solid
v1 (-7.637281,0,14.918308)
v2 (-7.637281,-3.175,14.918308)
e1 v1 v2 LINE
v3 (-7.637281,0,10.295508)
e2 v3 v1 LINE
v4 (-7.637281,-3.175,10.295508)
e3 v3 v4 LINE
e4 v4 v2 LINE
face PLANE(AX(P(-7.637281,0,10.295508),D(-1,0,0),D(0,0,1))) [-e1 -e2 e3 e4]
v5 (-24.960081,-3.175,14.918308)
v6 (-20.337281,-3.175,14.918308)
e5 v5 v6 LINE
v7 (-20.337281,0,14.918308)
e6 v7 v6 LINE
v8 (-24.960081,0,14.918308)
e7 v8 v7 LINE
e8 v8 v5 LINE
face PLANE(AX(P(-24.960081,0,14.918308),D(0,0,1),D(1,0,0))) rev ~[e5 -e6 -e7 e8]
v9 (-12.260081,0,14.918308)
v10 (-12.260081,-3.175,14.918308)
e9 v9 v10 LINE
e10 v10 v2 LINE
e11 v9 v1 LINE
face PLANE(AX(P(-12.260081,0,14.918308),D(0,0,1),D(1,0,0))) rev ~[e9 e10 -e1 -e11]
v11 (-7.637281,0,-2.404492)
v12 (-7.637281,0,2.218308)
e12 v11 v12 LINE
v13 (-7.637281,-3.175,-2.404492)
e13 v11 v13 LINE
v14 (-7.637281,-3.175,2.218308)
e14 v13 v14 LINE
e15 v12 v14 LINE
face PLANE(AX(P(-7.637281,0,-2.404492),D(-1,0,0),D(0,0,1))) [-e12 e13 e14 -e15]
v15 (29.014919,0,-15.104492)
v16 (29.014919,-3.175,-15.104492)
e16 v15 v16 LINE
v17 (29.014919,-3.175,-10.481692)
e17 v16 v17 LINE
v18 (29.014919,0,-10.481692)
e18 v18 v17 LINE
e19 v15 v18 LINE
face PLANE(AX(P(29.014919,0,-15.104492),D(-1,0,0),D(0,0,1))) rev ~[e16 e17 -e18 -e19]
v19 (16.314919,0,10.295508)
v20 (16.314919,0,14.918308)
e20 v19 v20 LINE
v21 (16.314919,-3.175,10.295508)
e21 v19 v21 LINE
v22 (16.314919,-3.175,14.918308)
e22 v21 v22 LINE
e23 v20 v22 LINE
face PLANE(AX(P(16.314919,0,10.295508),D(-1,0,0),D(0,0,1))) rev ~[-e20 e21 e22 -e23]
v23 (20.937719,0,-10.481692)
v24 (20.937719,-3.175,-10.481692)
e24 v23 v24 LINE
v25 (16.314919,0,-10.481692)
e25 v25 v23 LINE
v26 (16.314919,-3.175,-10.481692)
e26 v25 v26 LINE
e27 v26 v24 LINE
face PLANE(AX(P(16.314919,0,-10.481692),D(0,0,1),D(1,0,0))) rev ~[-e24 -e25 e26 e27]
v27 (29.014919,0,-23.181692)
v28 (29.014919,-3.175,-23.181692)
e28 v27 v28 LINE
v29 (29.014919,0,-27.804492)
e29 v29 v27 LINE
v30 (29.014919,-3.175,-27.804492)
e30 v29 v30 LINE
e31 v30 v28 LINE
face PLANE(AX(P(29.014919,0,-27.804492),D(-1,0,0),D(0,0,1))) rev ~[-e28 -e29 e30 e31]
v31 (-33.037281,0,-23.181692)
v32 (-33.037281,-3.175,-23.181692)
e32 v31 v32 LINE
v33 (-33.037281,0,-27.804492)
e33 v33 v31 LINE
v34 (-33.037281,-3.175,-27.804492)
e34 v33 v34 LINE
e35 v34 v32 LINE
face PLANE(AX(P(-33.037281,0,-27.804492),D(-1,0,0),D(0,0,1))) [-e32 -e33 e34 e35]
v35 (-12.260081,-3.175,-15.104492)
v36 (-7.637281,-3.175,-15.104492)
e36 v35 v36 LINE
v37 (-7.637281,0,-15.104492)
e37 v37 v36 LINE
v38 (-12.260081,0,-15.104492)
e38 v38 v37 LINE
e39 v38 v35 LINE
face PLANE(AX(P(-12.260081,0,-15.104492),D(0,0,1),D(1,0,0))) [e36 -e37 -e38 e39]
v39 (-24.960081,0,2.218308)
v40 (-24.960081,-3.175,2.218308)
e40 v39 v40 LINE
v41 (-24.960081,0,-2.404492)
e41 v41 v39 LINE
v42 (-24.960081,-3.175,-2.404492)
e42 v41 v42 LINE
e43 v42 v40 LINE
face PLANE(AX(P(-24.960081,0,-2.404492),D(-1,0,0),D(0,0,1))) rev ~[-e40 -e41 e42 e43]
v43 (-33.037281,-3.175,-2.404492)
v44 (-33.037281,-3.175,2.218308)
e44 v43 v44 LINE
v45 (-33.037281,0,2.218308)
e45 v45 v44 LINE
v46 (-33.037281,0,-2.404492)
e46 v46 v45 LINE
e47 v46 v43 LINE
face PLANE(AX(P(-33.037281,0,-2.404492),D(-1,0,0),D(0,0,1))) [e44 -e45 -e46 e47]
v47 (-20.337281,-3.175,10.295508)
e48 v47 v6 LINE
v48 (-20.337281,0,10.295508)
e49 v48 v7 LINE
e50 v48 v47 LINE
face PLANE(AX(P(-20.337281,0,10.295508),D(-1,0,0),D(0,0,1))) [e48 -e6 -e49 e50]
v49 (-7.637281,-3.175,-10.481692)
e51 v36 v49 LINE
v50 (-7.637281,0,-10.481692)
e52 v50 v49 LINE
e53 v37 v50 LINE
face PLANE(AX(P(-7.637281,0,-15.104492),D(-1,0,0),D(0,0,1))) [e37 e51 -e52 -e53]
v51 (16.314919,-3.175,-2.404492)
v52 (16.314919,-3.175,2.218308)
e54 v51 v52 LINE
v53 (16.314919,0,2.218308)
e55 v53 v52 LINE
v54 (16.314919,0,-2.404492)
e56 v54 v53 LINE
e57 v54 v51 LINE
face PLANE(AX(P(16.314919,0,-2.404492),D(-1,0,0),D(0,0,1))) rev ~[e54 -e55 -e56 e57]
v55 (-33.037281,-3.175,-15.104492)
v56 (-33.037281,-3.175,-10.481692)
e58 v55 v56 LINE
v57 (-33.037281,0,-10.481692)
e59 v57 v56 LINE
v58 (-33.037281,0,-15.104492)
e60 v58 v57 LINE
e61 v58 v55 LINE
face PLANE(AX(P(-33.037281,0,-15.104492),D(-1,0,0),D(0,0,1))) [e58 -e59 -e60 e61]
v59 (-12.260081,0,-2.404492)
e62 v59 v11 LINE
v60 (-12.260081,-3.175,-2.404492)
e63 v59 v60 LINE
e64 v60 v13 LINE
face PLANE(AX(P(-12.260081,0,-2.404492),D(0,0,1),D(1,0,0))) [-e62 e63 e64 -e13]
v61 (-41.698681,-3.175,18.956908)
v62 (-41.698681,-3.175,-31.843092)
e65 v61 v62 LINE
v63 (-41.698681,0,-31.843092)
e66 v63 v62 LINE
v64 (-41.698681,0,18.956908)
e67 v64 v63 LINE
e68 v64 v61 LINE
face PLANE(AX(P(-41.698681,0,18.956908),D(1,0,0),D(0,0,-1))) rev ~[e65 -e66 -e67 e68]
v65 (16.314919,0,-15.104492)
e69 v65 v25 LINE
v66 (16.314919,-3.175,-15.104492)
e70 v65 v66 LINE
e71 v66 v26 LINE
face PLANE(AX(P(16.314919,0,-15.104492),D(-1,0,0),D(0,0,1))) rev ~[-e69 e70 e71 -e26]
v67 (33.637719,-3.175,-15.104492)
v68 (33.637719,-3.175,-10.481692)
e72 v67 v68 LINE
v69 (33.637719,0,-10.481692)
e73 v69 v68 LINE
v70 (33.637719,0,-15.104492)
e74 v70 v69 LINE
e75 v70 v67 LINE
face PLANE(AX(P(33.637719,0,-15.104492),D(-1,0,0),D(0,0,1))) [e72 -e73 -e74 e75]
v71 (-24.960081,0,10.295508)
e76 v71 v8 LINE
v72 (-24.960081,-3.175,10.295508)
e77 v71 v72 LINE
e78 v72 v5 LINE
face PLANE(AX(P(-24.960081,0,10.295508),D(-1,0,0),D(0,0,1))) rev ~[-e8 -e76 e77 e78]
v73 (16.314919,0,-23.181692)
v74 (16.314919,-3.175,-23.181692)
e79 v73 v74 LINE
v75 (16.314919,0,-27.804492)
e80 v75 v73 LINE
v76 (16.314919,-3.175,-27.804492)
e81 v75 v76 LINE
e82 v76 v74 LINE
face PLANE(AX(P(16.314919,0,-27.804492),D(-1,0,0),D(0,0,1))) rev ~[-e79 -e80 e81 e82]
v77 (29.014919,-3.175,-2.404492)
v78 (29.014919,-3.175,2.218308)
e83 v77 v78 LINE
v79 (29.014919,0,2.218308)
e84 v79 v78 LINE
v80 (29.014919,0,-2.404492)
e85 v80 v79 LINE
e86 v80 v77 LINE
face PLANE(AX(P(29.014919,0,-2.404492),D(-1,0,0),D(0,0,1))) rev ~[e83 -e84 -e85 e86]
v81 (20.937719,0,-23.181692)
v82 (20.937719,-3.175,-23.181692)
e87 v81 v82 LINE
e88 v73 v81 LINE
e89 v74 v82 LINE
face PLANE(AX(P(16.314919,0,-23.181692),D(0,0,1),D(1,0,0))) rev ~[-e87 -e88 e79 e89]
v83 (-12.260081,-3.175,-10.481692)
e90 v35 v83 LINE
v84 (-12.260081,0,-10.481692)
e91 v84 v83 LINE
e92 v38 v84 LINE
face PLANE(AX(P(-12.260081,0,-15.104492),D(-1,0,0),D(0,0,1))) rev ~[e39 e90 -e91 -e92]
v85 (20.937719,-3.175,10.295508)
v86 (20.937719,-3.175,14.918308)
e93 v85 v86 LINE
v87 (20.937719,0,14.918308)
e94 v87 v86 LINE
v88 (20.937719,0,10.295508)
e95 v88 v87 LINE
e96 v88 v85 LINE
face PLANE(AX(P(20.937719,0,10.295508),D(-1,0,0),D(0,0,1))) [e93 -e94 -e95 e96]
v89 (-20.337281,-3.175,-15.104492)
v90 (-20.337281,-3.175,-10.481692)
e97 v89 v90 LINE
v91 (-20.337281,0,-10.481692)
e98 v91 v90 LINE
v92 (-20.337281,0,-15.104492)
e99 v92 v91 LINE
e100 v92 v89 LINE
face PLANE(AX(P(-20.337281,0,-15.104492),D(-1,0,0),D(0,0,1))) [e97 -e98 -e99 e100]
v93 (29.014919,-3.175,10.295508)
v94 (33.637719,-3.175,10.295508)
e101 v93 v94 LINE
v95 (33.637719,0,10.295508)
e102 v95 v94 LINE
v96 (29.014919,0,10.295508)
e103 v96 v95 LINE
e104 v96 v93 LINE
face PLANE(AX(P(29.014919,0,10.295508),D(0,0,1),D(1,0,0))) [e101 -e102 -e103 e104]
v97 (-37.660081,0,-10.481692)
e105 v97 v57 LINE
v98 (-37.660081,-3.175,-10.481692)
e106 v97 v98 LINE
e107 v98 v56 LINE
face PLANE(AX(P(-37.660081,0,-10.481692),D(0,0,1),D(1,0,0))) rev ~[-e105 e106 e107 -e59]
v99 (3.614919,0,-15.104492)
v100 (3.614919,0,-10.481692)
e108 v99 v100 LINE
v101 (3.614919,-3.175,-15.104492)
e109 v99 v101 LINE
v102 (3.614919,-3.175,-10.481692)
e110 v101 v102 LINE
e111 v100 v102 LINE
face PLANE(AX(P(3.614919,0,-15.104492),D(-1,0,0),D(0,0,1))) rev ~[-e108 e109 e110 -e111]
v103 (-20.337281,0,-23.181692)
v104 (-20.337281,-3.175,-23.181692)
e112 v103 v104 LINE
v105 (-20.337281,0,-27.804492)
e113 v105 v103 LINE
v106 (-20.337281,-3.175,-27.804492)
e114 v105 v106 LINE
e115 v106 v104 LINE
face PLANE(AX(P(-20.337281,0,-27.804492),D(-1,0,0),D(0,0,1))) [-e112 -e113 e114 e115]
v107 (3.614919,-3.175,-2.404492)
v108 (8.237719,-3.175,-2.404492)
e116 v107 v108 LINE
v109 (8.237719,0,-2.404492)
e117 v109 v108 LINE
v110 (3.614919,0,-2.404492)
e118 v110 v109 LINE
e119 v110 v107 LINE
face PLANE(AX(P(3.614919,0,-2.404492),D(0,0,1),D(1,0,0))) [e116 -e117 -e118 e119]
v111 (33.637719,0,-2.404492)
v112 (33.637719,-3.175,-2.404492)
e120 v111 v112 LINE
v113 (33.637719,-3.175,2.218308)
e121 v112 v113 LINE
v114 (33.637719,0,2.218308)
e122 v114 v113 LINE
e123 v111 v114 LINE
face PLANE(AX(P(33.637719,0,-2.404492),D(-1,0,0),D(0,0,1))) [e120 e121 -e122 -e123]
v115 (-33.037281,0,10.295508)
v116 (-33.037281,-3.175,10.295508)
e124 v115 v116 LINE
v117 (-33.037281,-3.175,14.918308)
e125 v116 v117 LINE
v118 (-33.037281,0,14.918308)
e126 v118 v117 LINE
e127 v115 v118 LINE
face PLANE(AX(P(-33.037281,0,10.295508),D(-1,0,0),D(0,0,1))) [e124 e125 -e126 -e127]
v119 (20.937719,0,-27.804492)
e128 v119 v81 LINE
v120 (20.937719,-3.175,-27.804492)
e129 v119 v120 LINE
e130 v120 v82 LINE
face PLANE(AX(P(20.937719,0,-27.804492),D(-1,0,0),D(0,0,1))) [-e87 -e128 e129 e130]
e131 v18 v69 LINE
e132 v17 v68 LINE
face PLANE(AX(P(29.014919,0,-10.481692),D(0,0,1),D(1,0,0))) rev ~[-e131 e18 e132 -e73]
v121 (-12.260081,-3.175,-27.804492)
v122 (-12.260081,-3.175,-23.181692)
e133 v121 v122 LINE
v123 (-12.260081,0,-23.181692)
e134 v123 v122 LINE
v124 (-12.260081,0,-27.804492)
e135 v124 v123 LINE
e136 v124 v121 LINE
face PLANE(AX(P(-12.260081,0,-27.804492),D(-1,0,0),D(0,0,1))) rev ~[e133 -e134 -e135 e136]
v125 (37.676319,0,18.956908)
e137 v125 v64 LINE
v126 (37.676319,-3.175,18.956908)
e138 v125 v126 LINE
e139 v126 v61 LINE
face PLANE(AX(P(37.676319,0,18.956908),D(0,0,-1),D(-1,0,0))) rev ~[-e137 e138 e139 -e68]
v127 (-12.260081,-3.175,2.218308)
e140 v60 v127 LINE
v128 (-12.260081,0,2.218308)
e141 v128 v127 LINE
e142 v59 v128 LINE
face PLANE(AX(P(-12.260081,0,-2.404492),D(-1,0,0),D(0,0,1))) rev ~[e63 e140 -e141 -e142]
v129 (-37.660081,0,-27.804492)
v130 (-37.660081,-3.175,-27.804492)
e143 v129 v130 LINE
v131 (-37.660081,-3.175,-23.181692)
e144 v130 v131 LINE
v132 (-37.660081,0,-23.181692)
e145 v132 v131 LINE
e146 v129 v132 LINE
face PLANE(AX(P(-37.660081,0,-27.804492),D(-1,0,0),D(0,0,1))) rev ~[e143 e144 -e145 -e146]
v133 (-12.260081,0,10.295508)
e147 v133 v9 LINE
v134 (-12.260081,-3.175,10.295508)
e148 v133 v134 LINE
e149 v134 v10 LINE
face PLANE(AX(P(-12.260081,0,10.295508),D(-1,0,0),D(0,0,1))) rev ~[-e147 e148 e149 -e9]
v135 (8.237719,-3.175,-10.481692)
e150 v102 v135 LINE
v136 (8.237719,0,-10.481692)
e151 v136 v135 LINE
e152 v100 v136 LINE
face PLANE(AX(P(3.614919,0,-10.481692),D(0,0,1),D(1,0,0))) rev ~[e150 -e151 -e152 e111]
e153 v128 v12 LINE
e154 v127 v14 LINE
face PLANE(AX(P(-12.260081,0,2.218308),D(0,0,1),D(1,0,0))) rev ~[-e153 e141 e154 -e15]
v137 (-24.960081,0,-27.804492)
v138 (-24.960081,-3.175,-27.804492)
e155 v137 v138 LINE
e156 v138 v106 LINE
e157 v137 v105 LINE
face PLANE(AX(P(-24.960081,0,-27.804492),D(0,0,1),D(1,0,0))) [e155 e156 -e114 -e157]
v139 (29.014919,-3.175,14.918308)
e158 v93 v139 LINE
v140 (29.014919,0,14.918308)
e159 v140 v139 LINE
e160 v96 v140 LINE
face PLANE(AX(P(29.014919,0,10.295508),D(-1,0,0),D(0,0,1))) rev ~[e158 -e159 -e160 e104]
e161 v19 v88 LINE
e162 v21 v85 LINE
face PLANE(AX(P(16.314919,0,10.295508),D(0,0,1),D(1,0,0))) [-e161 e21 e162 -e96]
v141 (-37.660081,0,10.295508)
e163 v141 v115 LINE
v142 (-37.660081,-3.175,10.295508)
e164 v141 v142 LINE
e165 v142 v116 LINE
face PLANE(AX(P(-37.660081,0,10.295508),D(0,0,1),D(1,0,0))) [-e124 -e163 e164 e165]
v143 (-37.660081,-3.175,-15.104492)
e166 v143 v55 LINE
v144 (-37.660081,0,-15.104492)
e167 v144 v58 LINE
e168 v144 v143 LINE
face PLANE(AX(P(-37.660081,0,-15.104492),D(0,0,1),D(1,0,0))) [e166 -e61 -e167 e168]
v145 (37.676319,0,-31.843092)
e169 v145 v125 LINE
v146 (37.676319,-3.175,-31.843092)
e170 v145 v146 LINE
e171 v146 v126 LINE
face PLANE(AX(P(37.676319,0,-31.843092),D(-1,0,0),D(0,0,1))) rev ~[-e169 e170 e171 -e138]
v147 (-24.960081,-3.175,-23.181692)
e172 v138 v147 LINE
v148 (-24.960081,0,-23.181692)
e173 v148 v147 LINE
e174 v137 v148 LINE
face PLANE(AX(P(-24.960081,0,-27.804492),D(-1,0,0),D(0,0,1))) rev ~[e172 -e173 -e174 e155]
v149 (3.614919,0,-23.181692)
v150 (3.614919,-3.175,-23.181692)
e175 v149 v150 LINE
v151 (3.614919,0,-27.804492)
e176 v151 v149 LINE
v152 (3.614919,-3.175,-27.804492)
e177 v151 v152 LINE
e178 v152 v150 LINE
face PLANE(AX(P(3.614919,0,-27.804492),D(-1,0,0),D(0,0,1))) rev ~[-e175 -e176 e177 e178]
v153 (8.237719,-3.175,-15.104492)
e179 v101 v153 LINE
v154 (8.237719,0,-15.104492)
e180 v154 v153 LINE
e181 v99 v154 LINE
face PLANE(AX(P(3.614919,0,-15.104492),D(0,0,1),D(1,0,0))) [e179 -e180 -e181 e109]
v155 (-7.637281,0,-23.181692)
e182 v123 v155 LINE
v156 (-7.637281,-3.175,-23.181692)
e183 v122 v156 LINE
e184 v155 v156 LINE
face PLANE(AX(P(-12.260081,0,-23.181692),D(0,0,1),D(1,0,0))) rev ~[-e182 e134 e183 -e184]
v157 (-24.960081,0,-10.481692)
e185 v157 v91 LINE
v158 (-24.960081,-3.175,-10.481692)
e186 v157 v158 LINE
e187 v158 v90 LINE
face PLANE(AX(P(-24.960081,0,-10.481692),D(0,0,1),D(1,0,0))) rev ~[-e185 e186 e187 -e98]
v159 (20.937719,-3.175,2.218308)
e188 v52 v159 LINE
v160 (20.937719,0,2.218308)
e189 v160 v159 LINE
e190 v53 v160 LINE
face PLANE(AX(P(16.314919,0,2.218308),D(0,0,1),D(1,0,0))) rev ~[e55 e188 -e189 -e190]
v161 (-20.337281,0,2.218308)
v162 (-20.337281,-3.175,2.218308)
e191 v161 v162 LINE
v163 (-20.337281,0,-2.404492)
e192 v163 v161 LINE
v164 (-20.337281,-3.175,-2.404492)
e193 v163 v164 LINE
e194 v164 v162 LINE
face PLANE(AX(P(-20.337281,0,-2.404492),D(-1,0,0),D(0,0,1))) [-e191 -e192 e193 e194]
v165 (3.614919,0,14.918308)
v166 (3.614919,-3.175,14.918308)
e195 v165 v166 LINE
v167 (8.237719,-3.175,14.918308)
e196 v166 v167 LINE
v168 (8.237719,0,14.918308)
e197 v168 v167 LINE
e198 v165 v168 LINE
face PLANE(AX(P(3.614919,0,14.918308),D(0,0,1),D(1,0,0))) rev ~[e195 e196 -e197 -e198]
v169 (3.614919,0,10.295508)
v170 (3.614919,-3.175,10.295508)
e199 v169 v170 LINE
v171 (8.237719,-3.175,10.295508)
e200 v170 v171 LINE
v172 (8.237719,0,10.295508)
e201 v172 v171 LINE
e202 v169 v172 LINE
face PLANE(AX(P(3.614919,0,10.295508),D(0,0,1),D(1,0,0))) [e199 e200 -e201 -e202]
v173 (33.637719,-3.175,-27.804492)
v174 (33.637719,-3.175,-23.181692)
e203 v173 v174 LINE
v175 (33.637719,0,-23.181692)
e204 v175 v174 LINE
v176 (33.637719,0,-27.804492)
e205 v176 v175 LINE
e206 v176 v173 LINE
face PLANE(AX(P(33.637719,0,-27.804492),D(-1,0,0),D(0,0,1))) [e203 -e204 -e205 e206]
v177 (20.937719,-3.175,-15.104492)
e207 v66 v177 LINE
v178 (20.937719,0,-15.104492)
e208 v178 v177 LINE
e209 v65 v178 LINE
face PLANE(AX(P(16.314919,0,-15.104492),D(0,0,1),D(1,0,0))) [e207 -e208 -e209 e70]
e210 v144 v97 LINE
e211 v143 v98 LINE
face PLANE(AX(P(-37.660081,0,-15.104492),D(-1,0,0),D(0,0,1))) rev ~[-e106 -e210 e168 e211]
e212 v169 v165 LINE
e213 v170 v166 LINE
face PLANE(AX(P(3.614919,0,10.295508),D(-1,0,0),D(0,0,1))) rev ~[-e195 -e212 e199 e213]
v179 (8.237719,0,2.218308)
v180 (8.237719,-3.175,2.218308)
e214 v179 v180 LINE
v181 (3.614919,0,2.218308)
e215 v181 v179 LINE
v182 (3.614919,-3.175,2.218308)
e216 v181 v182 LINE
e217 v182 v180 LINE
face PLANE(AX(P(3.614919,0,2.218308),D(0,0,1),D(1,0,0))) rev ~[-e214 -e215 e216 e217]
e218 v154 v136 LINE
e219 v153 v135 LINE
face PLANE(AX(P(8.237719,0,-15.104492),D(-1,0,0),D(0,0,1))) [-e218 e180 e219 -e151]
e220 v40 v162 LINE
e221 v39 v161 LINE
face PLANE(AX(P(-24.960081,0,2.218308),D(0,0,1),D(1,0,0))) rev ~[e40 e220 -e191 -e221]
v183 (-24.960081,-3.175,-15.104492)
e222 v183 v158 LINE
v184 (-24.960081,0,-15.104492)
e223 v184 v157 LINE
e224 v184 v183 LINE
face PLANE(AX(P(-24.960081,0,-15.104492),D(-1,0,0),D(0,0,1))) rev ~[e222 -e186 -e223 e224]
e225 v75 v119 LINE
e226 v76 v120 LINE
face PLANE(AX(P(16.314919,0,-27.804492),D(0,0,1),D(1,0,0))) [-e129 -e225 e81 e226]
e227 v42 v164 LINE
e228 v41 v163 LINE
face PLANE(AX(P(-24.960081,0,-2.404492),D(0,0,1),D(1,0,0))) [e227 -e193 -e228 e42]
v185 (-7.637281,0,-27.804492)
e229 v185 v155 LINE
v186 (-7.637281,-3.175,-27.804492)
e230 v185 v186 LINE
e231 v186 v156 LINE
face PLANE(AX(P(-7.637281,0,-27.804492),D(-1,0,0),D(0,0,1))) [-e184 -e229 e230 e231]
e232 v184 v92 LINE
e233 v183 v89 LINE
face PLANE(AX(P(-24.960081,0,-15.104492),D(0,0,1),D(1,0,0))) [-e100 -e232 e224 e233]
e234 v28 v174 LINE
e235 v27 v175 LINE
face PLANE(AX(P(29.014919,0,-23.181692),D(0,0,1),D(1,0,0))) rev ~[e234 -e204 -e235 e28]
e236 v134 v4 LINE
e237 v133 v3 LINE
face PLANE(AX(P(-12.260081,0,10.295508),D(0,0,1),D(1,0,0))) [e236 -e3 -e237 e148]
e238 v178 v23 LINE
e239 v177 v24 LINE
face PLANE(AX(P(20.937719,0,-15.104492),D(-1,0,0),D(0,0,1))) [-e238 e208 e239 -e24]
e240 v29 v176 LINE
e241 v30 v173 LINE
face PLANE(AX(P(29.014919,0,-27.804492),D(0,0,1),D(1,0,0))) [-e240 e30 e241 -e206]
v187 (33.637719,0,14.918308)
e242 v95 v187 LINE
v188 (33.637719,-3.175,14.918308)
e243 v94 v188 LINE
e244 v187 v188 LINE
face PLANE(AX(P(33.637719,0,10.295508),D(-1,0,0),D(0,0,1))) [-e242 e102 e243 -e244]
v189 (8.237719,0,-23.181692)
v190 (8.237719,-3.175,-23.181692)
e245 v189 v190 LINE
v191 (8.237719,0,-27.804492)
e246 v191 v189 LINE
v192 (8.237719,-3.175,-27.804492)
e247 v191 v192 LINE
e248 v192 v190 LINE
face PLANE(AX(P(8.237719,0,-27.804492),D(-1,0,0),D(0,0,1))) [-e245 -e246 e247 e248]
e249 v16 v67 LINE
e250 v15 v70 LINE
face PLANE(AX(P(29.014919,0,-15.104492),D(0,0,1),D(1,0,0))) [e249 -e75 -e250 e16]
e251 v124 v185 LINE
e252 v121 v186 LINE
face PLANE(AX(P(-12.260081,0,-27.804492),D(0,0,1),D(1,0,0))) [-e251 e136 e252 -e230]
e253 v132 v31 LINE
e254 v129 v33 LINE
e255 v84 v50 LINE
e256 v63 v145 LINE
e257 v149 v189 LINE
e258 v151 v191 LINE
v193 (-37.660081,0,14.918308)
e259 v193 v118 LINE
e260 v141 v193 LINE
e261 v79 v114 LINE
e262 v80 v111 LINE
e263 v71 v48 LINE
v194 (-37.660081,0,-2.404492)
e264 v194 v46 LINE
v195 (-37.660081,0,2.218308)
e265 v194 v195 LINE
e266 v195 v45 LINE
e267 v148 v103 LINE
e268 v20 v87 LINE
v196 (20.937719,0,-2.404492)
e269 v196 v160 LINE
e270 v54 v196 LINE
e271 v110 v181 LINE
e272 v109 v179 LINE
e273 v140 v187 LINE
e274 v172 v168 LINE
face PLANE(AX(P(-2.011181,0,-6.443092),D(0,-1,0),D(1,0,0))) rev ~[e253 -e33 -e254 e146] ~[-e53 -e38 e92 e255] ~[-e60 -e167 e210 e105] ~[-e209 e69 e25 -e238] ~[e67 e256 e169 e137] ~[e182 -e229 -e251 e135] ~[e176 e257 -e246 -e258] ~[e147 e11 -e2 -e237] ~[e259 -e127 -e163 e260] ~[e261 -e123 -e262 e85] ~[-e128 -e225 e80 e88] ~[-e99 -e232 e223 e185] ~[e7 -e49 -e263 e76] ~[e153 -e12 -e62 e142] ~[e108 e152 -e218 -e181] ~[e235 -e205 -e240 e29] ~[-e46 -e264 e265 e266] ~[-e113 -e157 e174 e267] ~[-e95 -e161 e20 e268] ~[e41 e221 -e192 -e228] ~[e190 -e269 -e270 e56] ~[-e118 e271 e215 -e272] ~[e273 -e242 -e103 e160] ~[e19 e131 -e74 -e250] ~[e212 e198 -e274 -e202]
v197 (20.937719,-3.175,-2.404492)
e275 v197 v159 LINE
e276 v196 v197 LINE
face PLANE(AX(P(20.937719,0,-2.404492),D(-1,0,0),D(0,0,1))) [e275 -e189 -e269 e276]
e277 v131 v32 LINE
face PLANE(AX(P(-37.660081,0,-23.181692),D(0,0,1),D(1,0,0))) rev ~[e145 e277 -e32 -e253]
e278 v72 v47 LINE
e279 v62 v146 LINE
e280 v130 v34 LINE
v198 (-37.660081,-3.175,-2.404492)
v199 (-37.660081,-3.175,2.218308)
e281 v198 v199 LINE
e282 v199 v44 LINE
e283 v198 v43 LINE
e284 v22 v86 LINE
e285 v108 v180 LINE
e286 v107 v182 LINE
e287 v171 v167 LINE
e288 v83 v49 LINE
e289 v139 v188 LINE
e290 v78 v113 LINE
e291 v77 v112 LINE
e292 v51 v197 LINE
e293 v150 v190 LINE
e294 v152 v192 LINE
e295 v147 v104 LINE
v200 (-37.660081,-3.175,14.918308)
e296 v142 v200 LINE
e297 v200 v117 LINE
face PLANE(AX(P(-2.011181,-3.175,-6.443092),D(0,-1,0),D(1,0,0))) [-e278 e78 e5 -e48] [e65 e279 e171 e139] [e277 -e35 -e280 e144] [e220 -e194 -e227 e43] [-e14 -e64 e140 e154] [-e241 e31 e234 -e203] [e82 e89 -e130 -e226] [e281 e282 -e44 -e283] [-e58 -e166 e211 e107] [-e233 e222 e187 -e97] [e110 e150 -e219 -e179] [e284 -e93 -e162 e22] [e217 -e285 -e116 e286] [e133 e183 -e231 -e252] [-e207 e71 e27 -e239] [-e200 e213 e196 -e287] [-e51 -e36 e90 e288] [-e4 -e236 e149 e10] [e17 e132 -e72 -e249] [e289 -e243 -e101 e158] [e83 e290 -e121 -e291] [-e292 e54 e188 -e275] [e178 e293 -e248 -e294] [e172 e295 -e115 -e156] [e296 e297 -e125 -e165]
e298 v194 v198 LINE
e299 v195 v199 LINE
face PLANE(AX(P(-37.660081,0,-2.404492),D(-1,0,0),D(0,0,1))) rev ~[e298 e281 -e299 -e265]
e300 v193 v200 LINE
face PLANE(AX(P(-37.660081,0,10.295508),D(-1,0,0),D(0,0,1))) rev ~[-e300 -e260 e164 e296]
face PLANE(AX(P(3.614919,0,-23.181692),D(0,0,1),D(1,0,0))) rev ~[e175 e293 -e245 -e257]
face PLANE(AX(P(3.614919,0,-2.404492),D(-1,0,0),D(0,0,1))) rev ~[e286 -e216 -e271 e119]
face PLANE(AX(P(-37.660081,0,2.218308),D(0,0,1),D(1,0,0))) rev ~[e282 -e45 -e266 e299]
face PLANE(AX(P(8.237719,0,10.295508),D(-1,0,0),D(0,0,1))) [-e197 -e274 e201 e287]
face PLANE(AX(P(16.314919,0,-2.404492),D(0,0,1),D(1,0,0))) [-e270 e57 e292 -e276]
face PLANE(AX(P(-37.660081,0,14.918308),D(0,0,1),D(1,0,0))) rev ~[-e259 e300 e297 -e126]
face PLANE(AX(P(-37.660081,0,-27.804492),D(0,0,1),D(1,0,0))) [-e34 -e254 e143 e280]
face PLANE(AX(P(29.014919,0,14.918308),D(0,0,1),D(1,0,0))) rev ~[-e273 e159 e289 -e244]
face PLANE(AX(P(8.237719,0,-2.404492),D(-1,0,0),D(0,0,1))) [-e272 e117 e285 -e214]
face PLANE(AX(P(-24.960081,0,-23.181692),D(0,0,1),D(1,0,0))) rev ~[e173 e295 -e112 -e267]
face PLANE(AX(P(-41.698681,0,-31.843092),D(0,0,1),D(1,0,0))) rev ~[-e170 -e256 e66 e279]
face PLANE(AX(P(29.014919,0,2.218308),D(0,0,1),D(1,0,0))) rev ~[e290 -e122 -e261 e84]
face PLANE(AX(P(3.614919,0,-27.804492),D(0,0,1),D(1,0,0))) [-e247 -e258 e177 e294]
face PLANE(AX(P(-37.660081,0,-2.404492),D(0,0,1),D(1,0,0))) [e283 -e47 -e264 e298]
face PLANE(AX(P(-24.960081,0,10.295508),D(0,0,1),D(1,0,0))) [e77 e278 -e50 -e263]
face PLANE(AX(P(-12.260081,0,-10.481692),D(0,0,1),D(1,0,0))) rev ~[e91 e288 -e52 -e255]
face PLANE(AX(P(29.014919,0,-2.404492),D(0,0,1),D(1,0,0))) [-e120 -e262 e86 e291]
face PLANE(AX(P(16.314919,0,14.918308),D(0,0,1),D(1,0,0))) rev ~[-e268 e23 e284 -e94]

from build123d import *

# Parameters (mm, degrees)
F0_W     = 4.6228
F0_H     = 4.6228
F1_DEPTH = 3.175


with BuildPart() as f1:
    # F0 (on Front) → F1 (new body)
    with BuildSketch(Plane.XZ):
        Polygon((-2.011181, 18.956908), (-41.698681, 18.956908), (-41.698681, -31.843092), (37.676319, -31.843092), (37.676319, 18.956908), align=None)
        with Locations((-35.348681, -25.493092)):
            Rectangle(F0_W, F0_H, mode=Mode.SUBTRACT)
        with Locations((-22.648681, -25.493092)):
            Rectangle(F0_W, F0_H, mode=Mode.SUBTRACT)
        with Locations((-9.948681, -25.493092)):
            Rectangle(F0_W, F0_H, mode=Mode.SUBTRACT)
        with Locations((-35.348681, -12.793092)):
            Rectangle(F0_W, F0_H, mode=Mode.SUBTRACT)
        with Locations((-22.648681, -12.793092)):
            Rectangle(F0_W, F0_H, mode=Mode.SUBTRACT)
        with Locations((-9.948681, -12.793092)):
            Rectangle(F0_W, F0_H, mode=Mode.SUBTRACT)
        with Locations((5.926319, -25.493092)):
            Rectangle(F0_W, F0_H, mode=Mode.SUBTRACT)
        with Locations((18.626319, -25.493092)):
            Rectangle(F0_W, F0_H, mode=Mode.SUBTRACT)
        with Locations((31.326319, -25.493092)):
            Rectangle(F0_W, F0_H, mode=Mode.SUBTRACT)
        with Locations((5.926319, -12.793092)):
            Rectangle(F0_W, F0_H, mode=Mode.SUBTRACT)
        with Locations((18.626319, -12.793092)):
            Rectangle(F0_W, F0_H, mode=Mode.SUBTRACT)
        with Locations((31.326319, -12.793092)):
            Rectangle(F0_W, F0_H, mode=Mode.SUBTRACT)
        with Locations((-35.348681, -0.093092)):
            Rectangle(F0_W, F0_H, mode=Mode.SUBTRACT)
        with Locations((-22.648681, -0.093092)):
            Rectangle(F0_W, F0_H, mode=Mode.SUBTRACT)
        with Locations((-9.948681, -0.093092)):
            Rectangle(F0_W, F0_H, mode=Mode.SUBTRACT)
        with Locations((-35.348681, 12.606908)):
            Rectangle(F0_W, F0_H, mode=Mode.SUBTRACT)
        with Locations((-22.648681, 12.606908)):
            Rectangle(F0_W, F0_H, mode=Mode.SUBTRACT)
        with Locations((-9.948681, 12.606908)):
            Rectangle(F0_W, F0_H, mode=Mode.SUBTRACT)
        with Locations((5.926319, -0.093092)):
            Rectangle(F0_W, F0_H, mode=Mode.SUBTRACT)
        with Locations((18.626319, -0.093092)):
            Rectangle(F0_W, F0_H, mode=Mode.SUBTRACT)
        with Locations((31.326319, -0.093092)):
            Rectangle(F0_W, F0_H, mode=Mode.SUBTRACT)
        with Locations((5.926319, 12.606908)):
            Rectangle(F0_W, F0_H, mode=Mode.SUBTRACT)
        with Locations((18.626319, 12.606908)):
            Rectangle(F0_W, F0_H, mode=Mode.SUBTRACT)
        with Locations((31.326319, 12.606908)):
            Rectangle(F0_W, F0_H, mode=Mode.SUBTRACT)
    extrude(amount=F1_DEPTH)


solid = f1.part
